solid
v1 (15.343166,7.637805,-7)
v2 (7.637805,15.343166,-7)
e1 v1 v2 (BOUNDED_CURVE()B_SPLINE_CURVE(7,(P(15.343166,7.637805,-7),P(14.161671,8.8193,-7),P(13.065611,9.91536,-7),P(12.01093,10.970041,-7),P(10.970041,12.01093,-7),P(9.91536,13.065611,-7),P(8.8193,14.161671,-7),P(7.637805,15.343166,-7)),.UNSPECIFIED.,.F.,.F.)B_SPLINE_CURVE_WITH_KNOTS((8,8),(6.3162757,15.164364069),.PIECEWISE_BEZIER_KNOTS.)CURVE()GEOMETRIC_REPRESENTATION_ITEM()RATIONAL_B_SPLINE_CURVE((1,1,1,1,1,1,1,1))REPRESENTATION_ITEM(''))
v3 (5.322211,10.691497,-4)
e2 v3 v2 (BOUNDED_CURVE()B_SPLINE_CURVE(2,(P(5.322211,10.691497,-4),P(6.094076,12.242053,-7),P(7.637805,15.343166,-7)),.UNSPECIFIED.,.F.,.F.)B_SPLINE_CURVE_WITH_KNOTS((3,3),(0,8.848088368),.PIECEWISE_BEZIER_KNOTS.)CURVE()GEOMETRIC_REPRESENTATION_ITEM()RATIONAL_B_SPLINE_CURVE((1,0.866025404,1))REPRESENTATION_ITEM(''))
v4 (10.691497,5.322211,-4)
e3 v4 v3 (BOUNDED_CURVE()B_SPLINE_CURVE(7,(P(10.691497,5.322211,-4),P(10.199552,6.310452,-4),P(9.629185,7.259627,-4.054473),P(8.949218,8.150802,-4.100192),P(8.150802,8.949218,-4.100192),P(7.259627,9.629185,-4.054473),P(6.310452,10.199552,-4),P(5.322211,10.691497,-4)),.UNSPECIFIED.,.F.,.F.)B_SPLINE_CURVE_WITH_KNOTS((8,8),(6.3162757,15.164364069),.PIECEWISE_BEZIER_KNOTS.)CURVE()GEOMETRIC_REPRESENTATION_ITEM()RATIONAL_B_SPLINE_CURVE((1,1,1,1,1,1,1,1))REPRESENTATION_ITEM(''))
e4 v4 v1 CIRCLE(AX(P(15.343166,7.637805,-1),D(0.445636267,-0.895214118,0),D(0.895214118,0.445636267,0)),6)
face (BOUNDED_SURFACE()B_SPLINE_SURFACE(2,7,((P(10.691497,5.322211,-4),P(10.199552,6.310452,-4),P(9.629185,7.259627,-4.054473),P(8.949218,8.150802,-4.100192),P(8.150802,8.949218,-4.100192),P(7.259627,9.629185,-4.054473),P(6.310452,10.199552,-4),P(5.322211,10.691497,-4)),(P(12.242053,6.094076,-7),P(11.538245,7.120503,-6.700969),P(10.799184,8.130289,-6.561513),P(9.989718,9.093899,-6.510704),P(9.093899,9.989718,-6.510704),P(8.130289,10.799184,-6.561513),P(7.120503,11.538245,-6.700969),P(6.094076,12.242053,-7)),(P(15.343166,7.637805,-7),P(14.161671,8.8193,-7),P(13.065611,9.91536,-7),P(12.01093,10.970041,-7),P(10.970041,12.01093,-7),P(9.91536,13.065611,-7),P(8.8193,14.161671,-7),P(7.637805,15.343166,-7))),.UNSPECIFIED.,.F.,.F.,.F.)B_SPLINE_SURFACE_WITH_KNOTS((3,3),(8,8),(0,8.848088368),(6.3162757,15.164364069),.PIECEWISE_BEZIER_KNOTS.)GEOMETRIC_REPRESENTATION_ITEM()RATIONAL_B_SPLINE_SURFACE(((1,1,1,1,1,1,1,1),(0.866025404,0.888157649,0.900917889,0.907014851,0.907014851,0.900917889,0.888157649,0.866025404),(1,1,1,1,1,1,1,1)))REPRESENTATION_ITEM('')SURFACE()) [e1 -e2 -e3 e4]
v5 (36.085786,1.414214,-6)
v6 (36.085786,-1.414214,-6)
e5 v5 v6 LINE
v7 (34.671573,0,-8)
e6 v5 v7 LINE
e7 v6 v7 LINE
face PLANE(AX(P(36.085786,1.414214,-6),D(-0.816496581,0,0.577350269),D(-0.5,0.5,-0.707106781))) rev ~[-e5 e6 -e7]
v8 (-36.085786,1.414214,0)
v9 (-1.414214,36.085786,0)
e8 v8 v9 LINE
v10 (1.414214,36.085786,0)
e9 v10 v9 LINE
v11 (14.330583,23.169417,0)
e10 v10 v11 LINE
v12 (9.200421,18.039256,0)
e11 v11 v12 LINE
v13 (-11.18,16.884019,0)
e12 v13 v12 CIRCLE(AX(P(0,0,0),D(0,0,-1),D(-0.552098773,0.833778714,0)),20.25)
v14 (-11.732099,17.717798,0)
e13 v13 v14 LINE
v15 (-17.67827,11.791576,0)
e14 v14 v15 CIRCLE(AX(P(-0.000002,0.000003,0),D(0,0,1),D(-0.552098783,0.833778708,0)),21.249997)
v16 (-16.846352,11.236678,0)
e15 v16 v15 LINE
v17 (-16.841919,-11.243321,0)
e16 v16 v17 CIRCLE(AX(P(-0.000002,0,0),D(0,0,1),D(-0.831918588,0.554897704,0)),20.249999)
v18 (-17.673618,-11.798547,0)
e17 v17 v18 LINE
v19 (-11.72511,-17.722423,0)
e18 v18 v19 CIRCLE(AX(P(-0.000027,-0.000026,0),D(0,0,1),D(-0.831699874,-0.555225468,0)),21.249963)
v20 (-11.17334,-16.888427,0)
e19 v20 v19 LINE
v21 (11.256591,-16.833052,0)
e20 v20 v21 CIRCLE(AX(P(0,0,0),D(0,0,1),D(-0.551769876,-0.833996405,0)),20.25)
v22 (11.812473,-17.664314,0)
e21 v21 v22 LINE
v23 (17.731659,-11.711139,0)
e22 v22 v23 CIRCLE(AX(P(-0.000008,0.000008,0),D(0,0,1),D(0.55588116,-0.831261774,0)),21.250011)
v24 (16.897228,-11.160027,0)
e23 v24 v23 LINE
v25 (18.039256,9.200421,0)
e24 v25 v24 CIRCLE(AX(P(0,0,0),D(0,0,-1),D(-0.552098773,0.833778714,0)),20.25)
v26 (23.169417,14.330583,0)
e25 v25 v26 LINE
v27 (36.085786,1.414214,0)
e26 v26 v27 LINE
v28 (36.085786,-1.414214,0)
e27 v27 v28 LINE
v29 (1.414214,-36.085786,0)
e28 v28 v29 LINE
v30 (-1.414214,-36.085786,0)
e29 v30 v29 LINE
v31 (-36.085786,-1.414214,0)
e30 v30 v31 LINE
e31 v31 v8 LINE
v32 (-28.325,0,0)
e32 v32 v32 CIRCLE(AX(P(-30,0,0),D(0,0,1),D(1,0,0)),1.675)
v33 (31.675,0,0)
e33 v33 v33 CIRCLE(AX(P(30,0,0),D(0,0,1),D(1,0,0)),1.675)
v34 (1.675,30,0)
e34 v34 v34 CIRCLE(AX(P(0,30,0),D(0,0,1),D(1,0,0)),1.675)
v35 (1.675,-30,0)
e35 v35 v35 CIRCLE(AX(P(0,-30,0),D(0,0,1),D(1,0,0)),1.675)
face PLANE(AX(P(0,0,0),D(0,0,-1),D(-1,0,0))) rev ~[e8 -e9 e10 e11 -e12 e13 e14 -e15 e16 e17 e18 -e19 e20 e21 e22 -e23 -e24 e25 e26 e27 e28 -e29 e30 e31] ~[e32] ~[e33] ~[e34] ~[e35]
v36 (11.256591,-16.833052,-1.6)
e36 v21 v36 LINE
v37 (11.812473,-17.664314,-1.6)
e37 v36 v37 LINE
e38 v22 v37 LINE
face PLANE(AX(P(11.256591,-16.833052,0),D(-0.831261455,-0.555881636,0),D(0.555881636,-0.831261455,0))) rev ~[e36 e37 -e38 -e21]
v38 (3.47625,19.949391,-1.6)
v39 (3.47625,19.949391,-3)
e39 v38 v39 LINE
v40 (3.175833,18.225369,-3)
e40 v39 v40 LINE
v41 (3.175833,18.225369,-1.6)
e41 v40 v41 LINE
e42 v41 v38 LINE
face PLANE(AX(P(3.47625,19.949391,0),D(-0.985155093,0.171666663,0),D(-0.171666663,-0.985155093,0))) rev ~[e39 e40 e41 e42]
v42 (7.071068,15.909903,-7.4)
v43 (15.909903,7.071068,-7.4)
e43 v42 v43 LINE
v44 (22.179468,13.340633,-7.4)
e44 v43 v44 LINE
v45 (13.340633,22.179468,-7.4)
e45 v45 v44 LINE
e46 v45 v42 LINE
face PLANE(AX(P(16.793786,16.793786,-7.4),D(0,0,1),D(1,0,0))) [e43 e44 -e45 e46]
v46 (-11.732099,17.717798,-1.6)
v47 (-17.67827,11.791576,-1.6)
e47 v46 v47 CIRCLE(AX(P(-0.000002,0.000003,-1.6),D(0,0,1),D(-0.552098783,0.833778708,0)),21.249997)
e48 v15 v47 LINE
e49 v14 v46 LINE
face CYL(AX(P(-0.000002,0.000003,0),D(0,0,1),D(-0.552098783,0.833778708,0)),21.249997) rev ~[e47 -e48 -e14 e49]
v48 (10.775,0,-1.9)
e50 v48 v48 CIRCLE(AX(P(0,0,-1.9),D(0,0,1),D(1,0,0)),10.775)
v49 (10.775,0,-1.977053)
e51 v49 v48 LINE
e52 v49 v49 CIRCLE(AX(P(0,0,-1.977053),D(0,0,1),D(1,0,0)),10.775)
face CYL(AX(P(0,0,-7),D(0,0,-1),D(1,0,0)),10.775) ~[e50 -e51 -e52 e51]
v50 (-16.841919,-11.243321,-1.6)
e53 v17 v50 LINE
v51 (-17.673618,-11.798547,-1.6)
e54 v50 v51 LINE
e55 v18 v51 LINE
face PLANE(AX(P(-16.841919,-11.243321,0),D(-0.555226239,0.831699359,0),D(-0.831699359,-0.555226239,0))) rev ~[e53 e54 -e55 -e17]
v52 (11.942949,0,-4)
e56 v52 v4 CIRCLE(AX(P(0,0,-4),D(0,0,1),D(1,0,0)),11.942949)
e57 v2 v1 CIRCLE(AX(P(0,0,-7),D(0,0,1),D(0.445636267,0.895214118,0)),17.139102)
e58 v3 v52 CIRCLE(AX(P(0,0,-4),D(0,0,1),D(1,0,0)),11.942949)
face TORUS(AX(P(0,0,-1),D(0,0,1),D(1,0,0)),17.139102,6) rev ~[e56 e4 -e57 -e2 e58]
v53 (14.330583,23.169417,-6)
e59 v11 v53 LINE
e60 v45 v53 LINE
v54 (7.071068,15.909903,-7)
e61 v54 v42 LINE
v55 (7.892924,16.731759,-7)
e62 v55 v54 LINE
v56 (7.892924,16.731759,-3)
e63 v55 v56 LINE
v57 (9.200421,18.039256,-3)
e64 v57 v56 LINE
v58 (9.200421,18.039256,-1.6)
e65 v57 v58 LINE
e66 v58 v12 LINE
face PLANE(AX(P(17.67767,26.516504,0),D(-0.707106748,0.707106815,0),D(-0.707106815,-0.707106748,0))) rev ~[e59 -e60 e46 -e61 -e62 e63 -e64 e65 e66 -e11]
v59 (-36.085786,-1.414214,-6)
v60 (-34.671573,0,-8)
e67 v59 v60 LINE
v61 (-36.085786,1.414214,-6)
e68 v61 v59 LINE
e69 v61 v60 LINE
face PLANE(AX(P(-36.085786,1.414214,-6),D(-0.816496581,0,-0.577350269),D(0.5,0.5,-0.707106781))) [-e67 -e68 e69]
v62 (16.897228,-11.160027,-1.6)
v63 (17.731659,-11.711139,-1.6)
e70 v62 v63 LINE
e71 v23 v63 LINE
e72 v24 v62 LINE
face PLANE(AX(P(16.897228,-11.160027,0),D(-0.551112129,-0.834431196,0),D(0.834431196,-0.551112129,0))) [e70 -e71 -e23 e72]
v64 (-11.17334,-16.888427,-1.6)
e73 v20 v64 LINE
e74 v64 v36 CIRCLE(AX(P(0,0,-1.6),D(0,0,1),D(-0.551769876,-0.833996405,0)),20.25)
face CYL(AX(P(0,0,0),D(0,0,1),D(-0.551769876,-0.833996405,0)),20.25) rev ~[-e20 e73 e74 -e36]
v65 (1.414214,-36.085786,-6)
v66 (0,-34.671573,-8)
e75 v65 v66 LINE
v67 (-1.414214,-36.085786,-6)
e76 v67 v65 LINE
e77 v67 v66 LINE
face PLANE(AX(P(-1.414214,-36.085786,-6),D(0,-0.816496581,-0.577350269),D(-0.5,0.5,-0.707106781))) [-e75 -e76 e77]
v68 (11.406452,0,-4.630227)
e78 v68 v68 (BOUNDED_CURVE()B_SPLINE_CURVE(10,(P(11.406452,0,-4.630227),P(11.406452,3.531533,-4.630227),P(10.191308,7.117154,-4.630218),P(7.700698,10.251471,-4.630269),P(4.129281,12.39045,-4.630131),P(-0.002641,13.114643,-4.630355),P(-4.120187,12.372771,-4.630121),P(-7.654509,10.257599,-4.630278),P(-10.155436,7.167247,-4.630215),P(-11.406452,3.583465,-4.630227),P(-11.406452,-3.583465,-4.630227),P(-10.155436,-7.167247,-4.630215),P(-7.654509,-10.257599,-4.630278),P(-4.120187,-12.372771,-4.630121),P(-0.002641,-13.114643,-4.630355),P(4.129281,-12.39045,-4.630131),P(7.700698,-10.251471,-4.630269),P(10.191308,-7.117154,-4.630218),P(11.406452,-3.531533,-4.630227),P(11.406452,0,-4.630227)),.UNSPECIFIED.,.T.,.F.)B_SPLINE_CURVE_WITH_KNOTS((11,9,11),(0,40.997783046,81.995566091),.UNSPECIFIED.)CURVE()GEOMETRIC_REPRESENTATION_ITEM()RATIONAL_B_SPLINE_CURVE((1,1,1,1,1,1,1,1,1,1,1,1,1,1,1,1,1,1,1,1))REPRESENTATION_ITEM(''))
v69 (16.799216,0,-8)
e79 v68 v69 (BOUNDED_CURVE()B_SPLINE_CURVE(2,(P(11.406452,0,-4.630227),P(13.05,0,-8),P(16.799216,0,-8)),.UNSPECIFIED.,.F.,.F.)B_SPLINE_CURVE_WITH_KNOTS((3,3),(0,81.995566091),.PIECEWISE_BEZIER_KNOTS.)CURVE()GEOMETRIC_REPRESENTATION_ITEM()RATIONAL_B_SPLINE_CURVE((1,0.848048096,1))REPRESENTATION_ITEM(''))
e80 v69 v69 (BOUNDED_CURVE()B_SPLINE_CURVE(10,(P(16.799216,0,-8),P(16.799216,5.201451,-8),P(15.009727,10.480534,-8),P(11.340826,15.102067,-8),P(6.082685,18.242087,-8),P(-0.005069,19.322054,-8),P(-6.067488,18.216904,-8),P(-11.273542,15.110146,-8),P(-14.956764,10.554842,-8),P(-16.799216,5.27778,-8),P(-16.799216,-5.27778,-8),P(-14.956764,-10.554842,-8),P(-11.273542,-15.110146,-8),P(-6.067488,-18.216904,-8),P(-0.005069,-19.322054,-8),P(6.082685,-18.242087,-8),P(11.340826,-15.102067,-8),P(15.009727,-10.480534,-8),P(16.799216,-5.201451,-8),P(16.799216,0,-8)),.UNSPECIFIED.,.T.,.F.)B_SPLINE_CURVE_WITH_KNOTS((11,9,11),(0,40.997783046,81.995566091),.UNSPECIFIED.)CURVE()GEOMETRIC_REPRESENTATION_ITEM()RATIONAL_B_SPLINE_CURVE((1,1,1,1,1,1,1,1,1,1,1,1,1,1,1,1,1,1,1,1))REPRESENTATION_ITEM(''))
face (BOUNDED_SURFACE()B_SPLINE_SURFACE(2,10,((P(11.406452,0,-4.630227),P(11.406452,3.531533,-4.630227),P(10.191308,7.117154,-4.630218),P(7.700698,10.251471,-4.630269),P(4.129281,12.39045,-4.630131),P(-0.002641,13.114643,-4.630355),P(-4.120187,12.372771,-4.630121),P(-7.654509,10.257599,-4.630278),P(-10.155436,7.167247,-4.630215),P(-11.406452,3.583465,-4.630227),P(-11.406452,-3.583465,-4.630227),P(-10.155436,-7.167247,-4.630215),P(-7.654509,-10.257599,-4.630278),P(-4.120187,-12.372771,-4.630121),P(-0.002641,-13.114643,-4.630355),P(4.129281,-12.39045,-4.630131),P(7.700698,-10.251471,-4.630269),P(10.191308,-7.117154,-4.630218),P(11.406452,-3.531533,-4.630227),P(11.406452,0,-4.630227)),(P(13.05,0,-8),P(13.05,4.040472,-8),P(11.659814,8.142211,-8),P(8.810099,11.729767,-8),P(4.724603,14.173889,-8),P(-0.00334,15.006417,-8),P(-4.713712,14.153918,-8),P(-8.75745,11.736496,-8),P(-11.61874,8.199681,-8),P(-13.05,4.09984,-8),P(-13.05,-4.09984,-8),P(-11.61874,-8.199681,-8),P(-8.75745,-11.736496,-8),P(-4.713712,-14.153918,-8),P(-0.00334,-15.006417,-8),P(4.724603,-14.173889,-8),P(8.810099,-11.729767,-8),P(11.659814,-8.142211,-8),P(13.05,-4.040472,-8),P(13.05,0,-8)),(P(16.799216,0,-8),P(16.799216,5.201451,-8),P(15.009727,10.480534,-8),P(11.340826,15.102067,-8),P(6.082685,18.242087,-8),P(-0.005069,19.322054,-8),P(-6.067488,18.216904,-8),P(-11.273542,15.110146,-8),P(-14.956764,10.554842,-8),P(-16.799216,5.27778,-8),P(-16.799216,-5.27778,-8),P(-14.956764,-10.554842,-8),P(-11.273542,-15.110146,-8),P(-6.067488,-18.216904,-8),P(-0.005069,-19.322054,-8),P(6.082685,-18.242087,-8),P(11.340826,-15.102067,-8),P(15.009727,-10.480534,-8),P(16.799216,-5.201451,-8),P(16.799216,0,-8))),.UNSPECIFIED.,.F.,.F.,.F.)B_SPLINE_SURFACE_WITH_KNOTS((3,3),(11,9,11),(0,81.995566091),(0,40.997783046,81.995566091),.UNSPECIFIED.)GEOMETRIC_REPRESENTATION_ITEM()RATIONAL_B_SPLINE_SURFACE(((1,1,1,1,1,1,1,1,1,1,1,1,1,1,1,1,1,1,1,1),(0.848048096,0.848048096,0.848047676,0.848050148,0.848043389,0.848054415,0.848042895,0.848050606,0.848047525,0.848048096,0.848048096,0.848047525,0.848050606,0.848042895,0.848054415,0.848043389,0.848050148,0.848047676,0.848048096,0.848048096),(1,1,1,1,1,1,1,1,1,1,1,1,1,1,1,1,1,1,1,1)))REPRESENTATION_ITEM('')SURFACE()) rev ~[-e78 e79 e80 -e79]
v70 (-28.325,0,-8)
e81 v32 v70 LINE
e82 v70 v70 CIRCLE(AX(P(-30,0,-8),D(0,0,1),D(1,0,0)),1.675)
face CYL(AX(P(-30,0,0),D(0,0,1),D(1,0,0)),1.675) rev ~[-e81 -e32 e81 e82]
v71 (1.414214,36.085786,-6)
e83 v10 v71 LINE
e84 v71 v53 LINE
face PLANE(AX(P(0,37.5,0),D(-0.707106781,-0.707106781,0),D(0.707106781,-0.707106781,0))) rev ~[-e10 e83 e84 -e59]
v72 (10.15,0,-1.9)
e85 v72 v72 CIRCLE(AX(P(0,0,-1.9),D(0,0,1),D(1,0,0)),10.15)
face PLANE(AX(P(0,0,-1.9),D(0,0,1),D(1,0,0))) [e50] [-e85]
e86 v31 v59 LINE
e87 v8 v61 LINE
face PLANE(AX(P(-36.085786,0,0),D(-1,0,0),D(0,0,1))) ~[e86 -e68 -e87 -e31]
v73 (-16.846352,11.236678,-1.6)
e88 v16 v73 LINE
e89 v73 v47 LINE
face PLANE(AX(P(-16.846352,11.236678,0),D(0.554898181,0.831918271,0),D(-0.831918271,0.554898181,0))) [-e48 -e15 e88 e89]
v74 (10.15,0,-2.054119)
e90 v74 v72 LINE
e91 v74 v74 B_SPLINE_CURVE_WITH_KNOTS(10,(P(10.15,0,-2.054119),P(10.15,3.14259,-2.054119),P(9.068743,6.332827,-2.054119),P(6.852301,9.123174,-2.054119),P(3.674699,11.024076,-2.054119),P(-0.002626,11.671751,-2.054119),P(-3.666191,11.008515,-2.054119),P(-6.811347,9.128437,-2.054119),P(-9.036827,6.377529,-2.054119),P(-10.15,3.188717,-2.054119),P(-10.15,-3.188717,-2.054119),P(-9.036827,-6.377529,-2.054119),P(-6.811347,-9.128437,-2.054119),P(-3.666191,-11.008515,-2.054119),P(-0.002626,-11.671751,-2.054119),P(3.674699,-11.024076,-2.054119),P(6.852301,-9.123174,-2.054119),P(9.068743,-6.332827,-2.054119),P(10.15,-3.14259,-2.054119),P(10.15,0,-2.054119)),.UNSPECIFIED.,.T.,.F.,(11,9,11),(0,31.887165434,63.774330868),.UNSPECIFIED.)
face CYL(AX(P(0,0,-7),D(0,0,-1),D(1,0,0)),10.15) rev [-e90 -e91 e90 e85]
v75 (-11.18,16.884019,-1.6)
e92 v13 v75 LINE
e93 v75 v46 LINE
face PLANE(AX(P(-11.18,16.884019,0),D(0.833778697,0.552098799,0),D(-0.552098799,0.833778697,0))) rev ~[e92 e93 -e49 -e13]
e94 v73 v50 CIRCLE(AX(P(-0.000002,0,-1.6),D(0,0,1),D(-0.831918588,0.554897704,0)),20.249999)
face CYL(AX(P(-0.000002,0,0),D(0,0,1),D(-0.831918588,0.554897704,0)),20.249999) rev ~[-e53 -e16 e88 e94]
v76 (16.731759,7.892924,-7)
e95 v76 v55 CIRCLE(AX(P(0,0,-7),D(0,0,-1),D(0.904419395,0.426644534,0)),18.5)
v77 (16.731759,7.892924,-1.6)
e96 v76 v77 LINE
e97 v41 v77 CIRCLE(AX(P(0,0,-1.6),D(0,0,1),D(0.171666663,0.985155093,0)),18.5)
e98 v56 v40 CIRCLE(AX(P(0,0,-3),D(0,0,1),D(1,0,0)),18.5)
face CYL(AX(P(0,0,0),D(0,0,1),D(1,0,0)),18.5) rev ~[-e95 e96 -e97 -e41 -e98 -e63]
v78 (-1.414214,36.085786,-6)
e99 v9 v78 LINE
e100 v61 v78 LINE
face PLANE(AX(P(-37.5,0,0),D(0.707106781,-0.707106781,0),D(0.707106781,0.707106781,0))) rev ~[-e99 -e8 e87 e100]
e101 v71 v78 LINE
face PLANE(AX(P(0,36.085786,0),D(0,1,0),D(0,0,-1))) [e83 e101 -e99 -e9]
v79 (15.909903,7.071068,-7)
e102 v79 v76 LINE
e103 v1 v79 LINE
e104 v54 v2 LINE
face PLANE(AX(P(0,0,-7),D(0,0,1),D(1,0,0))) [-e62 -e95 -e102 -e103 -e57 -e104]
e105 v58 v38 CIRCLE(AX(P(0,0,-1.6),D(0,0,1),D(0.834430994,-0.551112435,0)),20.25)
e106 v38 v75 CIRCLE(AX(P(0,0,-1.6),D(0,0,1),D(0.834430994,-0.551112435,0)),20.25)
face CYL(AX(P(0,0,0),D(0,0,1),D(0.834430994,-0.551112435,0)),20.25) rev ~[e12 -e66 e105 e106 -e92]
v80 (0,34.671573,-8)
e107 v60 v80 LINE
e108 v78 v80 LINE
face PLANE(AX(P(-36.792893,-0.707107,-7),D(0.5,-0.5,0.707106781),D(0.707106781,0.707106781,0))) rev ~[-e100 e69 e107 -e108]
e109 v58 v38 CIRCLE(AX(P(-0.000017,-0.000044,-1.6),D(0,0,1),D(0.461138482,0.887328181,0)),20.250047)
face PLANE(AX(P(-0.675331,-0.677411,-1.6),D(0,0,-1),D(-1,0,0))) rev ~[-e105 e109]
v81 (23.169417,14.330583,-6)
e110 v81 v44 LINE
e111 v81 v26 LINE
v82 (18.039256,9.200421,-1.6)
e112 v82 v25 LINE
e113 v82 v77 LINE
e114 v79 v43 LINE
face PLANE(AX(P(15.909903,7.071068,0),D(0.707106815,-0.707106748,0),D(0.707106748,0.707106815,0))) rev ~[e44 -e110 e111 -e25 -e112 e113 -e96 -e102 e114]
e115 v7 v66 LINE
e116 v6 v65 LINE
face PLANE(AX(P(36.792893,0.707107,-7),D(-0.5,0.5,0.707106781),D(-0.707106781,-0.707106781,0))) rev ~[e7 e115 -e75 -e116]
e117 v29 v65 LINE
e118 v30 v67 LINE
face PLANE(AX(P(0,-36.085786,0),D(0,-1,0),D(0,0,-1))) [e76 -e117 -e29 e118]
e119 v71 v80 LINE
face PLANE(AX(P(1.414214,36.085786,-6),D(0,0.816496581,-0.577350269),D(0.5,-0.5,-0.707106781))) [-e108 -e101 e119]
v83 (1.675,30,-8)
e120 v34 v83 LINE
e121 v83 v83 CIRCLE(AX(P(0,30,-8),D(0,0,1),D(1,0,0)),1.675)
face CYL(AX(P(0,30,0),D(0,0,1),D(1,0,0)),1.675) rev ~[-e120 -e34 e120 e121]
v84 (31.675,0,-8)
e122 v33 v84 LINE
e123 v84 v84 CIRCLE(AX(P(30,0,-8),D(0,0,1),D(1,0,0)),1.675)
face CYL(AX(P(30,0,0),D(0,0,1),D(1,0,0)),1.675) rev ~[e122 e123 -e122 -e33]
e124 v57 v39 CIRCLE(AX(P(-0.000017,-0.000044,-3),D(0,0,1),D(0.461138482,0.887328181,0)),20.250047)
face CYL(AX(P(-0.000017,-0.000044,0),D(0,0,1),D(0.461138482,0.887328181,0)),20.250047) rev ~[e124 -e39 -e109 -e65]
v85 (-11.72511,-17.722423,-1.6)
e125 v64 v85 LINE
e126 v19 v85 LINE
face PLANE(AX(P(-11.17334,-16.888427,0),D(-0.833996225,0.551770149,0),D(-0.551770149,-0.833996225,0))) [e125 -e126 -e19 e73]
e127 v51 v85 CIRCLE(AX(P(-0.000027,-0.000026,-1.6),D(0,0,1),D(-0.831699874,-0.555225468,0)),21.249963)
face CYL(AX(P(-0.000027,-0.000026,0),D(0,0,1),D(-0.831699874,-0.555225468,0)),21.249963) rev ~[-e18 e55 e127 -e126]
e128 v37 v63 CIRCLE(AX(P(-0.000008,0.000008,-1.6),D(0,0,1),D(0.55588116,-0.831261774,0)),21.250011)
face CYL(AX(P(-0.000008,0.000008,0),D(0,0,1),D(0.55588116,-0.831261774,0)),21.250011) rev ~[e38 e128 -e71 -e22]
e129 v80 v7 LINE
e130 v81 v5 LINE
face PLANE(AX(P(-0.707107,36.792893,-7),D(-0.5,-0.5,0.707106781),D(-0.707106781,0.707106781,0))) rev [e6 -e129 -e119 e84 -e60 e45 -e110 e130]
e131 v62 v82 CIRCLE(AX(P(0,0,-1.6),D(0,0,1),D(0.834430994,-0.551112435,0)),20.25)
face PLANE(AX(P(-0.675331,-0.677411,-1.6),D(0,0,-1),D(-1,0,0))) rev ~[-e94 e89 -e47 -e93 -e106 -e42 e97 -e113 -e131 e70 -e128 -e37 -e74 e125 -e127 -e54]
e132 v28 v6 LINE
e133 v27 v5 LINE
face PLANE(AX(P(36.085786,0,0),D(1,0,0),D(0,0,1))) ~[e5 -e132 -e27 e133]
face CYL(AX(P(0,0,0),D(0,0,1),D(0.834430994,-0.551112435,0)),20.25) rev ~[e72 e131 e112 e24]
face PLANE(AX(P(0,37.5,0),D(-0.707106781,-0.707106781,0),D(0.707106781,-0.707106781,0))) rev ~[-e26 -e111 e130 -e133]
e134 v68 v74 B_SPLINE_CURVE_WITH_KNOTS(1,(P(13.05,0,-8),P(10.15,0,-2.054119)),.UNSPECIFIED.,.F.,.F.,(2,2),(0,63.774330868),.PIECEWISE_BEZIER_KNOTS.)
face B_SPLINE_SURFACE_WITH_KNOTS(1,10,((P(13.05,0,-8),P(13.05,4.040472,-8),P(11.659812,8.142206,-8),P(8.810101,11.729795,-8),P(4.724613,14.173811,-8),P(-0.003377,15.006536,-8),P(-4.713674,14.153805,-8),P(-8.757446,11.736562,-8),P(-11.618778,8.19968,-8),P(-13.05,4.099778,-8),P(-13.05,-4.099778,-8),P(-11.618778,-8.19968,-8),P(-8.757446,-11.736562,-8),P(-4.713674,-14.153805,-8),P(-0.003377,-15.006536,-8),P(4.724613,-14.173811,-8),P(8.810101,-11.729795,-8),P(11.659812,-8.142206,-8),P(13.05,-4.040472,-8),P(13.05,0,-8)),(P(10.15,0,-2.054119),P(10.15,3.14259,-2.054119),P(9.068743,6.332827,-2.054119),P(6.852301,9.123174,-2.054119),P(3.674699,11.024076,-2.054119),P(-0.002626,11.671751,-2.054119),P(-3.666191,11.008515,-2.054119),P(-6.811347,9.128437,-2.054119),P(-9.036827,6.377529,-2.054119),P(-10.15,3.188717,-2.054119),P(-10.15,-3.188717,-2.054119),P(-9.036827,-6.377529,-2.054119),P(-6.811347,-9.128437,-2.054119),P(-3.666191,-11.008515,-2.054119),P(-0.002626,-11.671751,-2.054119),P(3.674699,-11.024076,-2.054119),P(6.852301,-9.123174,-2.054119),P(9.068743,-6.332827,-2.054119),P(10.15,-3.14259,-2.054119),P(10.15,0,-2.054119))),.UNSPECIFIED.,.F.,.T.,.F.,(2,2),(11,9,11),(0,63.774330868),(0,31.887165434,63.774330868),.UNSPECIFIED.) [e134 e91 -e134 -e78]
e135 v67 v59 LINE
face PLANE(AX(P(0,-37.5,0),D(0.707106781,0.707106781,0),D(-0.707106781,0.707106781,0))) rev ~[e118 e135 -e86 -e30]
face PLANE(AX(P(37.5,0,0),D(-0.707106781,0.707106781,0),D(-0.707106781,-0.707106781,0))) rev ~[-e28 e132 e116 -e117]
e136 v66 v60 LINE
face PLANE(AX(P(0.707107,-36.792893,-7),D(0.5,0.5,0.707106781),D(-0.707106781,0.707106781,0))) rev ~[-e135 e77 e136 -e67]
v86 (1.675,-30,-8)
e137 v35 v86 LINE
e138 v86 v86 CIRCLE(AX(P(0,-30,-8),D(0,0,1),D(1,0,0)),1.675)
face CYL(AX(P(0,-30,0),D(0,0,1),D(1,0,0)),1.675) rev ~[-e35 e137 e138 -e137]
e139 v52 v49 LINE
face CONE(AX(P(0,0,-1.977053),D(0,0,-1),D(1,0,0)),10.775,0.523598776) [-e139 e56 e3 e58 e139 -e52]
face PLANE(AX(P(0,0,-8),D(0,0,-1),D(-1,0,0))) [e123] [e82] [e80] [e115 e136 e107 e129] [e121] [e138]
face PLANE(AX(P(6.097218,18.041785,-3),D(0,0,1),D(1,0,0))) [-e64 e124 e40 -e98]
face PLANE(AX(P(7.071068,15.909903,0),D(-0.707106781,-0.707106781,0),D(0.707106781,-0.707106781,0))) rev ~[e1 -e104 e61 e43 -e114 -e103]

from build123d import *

# Parameters (mm, degrees)
SKETCH_R         = 10.15
SKETCH_R_2       = 1.675
PAD_DEPTH        = 8
SKETCH001_R      = 18.5
POCKET_DEPTH     = 7
POCKET001_DEPTH  = 1.6
POCKET004_DEPTH  = 3
CHAMFER_SIZE     = 2
POCKET002_DEPTH  = 7.4
SKETCH005_R      = 10.775
SKETCH005_R_2    = 10.15
PAD001_DEPTH     = 5.1
CHAMFER001_ANGLE = 64
CHAMFER001_SIZE  = 2.9
CHAMFER002_ANGLE = 60
CHAMFER002_SIZE  = 2.9
FILLET_R         = 6


with BuildPart() as part:
    # Sketch → Pad (new body)
    with BuildSketch(Plane.XY):
        Polygon((0, 37.5), (37.5, 0), (0, -37.5), (-37.5, 0), align=None)
        Circle(SKETCH_R, mode=Mode.SUBTRACT)
        with Locations((0, 30)):
            Circle(SKETCH_R_2, mode=Mode.SUBTRACT)
        with Locations((30, 0)):
            Circle(SKETCH_R_2, mode=Mode.SUBTRACT)
        with Locations((0, -30)):
            Circle(SKETCH_R_2, mode=Mode.SUBTRACT)
        with Locations((-30, 0)):
            Circle(SKETCH_R_2, mode=Mode.SUBTRACT)
    extrude(amount=-PAD_DEPTH)

    # Sketch001 → Pocket (cut)
    with BuildSketch(Plane.XY):
        Circle(SKETCH001_R)
    extrude(amount=-POCKET_DEPTH, mode=Mode.SUBTRACT)

    # Sketch002 → Pocket001 (cut)
    with BuildSketch(Plane.XY):
        with BuildLine():
            Line((-16.846352, 11.236678), (-17.67827, 11.791576))
            ThreePointArc((-11.732099, 17.717798), (-15.000749, 15.051247), (-17.67827, 11.791576))
            Line((-11.18, 16.884019), (-11.732099, 17.717798))
            ThreePointArc((16.897228, -11.160027), (14.310444, 14.327376), (-11.18, 16.884019))
            Line((16.897228, -11.160027), (17.731659, -11.711139))
            ThreePointArc((11.812473, -17.664314), (15.068975, -14.98294), (17.731659, -11.711139))
            Line((11.256591, -16.833052), (11.812473, -17.664314))
            ThreePointArc((-11.17334, -16.888427), (0.049993, -20.249938), (11.256591, -16.833052))
            Line((-11.17334, -16.888427), (-11.72511, -17.722423))
            ThreePointArc((-17.673618, -11.798547), (-14.994812, -15.057162), (-11.72511, -17.722423))
            Line((-16.841919, -11.243321), (-17.673618, -11.798547))
            ThreePointArc((-16.846352, 11.236678), (-20.25, -0.003993), (-16.841919, -11.243321))
        make_face()
    extrude(amount=-POCKET001_DEPTH, mode=Mode.SUBTRACT)

    # Sketch004 → Pocket004 (cut)
    with BuildSketch(Plane.XY):
        with BuildLine():
            Line((3.47625, 19.949391), (3.09, 17.732792))
            ThreePointArc((8.300497, 15.971905), (5.762902, 17.052535), (3.09, 17.732792))
            Line((8.300497, 15.971905), (9.338059, 17.968393))
            ThreePointArc((9.338059, 17.968393), (6.483264, 19.184102), (3.47625, 19.949391))
        make_face()
    extrude(amount=-POCKET004_DEPTH, mode=Mode.SUBTRACT)

    # Chamfer
    chamfer_edges = [part.edges().sort_by_distance(p)[0] for p in [
        (18.75, -18.75, -8),
        (37.5, 0, -4),
        (0, -37.5, -4),
        (-18.75, -18.75, -8),
        (-37.5, 0, -4),
        (-18.75, 18.75, -8),
        (0, 37.5, -4),
        (18.75, 18.75, -8),
    ]]
    chamfer(chamfer_edges, length=CHAMFER_SIZE)

    # Sketch003 → Pocket002 (cut)
    with BuildSketch(Plane.XY):
        Polygon((7.071068, 15.909903), (15.909903, 7.071068), (26.516504, 17.67767), (17.67767, 26.516504), align=None)
    extrude(amount=-POCKET002_DEPTH, mode=Mode.SUBTRACT)

    # Sketch005 (on DatumPlane) → Pad001 (join)
    with BuildSketch(Plane.XY.offset(-7)):
        Circle(SKETCH005_R)
        Circle(SKETCH005_R_2, mode=Mode.SUBTRACT)
    extrude(amount=PAD001_DEPTH)

    # Chamfer001
    chamfer001_edges = [part.edges().sort_by_distance(p)[0] for p in [
        (-10.15, 0, -8),
    ]]
    chamfer001_side = part.faces().sort_by_distance((16.642355, -16.642355, -8))[0]
    chamfer(chamfer001_edges, length=CHAMFER001_SIZE, angle=CHAMFER001_ANGLE, reference=chamfer001_side)

    # Chamfer002
    chamfer002_edges = [part.edges().sort_by_distance(p)[0] for p in [
        (-10.775, 0, -7),
    ]]
    chamfer002_side = part.faces().sort_by_distance((-15.182869, -9.62516, -7))[0]
    chamfer(chamfer002_edges, length=CHAMFER002_SIZE, angle=CHAMFER002_ANGLE, reference=chamfer002_side)

    # Fillet
    fillet_edges = [part.edges().sort_by_distance(p)[0] for p in [
        (-13.05, 0, -8),
        (-13.675, 0, -7),
    ]]
    fillet(fillet_edges, radius=FILLET_R)


solid = part.part
